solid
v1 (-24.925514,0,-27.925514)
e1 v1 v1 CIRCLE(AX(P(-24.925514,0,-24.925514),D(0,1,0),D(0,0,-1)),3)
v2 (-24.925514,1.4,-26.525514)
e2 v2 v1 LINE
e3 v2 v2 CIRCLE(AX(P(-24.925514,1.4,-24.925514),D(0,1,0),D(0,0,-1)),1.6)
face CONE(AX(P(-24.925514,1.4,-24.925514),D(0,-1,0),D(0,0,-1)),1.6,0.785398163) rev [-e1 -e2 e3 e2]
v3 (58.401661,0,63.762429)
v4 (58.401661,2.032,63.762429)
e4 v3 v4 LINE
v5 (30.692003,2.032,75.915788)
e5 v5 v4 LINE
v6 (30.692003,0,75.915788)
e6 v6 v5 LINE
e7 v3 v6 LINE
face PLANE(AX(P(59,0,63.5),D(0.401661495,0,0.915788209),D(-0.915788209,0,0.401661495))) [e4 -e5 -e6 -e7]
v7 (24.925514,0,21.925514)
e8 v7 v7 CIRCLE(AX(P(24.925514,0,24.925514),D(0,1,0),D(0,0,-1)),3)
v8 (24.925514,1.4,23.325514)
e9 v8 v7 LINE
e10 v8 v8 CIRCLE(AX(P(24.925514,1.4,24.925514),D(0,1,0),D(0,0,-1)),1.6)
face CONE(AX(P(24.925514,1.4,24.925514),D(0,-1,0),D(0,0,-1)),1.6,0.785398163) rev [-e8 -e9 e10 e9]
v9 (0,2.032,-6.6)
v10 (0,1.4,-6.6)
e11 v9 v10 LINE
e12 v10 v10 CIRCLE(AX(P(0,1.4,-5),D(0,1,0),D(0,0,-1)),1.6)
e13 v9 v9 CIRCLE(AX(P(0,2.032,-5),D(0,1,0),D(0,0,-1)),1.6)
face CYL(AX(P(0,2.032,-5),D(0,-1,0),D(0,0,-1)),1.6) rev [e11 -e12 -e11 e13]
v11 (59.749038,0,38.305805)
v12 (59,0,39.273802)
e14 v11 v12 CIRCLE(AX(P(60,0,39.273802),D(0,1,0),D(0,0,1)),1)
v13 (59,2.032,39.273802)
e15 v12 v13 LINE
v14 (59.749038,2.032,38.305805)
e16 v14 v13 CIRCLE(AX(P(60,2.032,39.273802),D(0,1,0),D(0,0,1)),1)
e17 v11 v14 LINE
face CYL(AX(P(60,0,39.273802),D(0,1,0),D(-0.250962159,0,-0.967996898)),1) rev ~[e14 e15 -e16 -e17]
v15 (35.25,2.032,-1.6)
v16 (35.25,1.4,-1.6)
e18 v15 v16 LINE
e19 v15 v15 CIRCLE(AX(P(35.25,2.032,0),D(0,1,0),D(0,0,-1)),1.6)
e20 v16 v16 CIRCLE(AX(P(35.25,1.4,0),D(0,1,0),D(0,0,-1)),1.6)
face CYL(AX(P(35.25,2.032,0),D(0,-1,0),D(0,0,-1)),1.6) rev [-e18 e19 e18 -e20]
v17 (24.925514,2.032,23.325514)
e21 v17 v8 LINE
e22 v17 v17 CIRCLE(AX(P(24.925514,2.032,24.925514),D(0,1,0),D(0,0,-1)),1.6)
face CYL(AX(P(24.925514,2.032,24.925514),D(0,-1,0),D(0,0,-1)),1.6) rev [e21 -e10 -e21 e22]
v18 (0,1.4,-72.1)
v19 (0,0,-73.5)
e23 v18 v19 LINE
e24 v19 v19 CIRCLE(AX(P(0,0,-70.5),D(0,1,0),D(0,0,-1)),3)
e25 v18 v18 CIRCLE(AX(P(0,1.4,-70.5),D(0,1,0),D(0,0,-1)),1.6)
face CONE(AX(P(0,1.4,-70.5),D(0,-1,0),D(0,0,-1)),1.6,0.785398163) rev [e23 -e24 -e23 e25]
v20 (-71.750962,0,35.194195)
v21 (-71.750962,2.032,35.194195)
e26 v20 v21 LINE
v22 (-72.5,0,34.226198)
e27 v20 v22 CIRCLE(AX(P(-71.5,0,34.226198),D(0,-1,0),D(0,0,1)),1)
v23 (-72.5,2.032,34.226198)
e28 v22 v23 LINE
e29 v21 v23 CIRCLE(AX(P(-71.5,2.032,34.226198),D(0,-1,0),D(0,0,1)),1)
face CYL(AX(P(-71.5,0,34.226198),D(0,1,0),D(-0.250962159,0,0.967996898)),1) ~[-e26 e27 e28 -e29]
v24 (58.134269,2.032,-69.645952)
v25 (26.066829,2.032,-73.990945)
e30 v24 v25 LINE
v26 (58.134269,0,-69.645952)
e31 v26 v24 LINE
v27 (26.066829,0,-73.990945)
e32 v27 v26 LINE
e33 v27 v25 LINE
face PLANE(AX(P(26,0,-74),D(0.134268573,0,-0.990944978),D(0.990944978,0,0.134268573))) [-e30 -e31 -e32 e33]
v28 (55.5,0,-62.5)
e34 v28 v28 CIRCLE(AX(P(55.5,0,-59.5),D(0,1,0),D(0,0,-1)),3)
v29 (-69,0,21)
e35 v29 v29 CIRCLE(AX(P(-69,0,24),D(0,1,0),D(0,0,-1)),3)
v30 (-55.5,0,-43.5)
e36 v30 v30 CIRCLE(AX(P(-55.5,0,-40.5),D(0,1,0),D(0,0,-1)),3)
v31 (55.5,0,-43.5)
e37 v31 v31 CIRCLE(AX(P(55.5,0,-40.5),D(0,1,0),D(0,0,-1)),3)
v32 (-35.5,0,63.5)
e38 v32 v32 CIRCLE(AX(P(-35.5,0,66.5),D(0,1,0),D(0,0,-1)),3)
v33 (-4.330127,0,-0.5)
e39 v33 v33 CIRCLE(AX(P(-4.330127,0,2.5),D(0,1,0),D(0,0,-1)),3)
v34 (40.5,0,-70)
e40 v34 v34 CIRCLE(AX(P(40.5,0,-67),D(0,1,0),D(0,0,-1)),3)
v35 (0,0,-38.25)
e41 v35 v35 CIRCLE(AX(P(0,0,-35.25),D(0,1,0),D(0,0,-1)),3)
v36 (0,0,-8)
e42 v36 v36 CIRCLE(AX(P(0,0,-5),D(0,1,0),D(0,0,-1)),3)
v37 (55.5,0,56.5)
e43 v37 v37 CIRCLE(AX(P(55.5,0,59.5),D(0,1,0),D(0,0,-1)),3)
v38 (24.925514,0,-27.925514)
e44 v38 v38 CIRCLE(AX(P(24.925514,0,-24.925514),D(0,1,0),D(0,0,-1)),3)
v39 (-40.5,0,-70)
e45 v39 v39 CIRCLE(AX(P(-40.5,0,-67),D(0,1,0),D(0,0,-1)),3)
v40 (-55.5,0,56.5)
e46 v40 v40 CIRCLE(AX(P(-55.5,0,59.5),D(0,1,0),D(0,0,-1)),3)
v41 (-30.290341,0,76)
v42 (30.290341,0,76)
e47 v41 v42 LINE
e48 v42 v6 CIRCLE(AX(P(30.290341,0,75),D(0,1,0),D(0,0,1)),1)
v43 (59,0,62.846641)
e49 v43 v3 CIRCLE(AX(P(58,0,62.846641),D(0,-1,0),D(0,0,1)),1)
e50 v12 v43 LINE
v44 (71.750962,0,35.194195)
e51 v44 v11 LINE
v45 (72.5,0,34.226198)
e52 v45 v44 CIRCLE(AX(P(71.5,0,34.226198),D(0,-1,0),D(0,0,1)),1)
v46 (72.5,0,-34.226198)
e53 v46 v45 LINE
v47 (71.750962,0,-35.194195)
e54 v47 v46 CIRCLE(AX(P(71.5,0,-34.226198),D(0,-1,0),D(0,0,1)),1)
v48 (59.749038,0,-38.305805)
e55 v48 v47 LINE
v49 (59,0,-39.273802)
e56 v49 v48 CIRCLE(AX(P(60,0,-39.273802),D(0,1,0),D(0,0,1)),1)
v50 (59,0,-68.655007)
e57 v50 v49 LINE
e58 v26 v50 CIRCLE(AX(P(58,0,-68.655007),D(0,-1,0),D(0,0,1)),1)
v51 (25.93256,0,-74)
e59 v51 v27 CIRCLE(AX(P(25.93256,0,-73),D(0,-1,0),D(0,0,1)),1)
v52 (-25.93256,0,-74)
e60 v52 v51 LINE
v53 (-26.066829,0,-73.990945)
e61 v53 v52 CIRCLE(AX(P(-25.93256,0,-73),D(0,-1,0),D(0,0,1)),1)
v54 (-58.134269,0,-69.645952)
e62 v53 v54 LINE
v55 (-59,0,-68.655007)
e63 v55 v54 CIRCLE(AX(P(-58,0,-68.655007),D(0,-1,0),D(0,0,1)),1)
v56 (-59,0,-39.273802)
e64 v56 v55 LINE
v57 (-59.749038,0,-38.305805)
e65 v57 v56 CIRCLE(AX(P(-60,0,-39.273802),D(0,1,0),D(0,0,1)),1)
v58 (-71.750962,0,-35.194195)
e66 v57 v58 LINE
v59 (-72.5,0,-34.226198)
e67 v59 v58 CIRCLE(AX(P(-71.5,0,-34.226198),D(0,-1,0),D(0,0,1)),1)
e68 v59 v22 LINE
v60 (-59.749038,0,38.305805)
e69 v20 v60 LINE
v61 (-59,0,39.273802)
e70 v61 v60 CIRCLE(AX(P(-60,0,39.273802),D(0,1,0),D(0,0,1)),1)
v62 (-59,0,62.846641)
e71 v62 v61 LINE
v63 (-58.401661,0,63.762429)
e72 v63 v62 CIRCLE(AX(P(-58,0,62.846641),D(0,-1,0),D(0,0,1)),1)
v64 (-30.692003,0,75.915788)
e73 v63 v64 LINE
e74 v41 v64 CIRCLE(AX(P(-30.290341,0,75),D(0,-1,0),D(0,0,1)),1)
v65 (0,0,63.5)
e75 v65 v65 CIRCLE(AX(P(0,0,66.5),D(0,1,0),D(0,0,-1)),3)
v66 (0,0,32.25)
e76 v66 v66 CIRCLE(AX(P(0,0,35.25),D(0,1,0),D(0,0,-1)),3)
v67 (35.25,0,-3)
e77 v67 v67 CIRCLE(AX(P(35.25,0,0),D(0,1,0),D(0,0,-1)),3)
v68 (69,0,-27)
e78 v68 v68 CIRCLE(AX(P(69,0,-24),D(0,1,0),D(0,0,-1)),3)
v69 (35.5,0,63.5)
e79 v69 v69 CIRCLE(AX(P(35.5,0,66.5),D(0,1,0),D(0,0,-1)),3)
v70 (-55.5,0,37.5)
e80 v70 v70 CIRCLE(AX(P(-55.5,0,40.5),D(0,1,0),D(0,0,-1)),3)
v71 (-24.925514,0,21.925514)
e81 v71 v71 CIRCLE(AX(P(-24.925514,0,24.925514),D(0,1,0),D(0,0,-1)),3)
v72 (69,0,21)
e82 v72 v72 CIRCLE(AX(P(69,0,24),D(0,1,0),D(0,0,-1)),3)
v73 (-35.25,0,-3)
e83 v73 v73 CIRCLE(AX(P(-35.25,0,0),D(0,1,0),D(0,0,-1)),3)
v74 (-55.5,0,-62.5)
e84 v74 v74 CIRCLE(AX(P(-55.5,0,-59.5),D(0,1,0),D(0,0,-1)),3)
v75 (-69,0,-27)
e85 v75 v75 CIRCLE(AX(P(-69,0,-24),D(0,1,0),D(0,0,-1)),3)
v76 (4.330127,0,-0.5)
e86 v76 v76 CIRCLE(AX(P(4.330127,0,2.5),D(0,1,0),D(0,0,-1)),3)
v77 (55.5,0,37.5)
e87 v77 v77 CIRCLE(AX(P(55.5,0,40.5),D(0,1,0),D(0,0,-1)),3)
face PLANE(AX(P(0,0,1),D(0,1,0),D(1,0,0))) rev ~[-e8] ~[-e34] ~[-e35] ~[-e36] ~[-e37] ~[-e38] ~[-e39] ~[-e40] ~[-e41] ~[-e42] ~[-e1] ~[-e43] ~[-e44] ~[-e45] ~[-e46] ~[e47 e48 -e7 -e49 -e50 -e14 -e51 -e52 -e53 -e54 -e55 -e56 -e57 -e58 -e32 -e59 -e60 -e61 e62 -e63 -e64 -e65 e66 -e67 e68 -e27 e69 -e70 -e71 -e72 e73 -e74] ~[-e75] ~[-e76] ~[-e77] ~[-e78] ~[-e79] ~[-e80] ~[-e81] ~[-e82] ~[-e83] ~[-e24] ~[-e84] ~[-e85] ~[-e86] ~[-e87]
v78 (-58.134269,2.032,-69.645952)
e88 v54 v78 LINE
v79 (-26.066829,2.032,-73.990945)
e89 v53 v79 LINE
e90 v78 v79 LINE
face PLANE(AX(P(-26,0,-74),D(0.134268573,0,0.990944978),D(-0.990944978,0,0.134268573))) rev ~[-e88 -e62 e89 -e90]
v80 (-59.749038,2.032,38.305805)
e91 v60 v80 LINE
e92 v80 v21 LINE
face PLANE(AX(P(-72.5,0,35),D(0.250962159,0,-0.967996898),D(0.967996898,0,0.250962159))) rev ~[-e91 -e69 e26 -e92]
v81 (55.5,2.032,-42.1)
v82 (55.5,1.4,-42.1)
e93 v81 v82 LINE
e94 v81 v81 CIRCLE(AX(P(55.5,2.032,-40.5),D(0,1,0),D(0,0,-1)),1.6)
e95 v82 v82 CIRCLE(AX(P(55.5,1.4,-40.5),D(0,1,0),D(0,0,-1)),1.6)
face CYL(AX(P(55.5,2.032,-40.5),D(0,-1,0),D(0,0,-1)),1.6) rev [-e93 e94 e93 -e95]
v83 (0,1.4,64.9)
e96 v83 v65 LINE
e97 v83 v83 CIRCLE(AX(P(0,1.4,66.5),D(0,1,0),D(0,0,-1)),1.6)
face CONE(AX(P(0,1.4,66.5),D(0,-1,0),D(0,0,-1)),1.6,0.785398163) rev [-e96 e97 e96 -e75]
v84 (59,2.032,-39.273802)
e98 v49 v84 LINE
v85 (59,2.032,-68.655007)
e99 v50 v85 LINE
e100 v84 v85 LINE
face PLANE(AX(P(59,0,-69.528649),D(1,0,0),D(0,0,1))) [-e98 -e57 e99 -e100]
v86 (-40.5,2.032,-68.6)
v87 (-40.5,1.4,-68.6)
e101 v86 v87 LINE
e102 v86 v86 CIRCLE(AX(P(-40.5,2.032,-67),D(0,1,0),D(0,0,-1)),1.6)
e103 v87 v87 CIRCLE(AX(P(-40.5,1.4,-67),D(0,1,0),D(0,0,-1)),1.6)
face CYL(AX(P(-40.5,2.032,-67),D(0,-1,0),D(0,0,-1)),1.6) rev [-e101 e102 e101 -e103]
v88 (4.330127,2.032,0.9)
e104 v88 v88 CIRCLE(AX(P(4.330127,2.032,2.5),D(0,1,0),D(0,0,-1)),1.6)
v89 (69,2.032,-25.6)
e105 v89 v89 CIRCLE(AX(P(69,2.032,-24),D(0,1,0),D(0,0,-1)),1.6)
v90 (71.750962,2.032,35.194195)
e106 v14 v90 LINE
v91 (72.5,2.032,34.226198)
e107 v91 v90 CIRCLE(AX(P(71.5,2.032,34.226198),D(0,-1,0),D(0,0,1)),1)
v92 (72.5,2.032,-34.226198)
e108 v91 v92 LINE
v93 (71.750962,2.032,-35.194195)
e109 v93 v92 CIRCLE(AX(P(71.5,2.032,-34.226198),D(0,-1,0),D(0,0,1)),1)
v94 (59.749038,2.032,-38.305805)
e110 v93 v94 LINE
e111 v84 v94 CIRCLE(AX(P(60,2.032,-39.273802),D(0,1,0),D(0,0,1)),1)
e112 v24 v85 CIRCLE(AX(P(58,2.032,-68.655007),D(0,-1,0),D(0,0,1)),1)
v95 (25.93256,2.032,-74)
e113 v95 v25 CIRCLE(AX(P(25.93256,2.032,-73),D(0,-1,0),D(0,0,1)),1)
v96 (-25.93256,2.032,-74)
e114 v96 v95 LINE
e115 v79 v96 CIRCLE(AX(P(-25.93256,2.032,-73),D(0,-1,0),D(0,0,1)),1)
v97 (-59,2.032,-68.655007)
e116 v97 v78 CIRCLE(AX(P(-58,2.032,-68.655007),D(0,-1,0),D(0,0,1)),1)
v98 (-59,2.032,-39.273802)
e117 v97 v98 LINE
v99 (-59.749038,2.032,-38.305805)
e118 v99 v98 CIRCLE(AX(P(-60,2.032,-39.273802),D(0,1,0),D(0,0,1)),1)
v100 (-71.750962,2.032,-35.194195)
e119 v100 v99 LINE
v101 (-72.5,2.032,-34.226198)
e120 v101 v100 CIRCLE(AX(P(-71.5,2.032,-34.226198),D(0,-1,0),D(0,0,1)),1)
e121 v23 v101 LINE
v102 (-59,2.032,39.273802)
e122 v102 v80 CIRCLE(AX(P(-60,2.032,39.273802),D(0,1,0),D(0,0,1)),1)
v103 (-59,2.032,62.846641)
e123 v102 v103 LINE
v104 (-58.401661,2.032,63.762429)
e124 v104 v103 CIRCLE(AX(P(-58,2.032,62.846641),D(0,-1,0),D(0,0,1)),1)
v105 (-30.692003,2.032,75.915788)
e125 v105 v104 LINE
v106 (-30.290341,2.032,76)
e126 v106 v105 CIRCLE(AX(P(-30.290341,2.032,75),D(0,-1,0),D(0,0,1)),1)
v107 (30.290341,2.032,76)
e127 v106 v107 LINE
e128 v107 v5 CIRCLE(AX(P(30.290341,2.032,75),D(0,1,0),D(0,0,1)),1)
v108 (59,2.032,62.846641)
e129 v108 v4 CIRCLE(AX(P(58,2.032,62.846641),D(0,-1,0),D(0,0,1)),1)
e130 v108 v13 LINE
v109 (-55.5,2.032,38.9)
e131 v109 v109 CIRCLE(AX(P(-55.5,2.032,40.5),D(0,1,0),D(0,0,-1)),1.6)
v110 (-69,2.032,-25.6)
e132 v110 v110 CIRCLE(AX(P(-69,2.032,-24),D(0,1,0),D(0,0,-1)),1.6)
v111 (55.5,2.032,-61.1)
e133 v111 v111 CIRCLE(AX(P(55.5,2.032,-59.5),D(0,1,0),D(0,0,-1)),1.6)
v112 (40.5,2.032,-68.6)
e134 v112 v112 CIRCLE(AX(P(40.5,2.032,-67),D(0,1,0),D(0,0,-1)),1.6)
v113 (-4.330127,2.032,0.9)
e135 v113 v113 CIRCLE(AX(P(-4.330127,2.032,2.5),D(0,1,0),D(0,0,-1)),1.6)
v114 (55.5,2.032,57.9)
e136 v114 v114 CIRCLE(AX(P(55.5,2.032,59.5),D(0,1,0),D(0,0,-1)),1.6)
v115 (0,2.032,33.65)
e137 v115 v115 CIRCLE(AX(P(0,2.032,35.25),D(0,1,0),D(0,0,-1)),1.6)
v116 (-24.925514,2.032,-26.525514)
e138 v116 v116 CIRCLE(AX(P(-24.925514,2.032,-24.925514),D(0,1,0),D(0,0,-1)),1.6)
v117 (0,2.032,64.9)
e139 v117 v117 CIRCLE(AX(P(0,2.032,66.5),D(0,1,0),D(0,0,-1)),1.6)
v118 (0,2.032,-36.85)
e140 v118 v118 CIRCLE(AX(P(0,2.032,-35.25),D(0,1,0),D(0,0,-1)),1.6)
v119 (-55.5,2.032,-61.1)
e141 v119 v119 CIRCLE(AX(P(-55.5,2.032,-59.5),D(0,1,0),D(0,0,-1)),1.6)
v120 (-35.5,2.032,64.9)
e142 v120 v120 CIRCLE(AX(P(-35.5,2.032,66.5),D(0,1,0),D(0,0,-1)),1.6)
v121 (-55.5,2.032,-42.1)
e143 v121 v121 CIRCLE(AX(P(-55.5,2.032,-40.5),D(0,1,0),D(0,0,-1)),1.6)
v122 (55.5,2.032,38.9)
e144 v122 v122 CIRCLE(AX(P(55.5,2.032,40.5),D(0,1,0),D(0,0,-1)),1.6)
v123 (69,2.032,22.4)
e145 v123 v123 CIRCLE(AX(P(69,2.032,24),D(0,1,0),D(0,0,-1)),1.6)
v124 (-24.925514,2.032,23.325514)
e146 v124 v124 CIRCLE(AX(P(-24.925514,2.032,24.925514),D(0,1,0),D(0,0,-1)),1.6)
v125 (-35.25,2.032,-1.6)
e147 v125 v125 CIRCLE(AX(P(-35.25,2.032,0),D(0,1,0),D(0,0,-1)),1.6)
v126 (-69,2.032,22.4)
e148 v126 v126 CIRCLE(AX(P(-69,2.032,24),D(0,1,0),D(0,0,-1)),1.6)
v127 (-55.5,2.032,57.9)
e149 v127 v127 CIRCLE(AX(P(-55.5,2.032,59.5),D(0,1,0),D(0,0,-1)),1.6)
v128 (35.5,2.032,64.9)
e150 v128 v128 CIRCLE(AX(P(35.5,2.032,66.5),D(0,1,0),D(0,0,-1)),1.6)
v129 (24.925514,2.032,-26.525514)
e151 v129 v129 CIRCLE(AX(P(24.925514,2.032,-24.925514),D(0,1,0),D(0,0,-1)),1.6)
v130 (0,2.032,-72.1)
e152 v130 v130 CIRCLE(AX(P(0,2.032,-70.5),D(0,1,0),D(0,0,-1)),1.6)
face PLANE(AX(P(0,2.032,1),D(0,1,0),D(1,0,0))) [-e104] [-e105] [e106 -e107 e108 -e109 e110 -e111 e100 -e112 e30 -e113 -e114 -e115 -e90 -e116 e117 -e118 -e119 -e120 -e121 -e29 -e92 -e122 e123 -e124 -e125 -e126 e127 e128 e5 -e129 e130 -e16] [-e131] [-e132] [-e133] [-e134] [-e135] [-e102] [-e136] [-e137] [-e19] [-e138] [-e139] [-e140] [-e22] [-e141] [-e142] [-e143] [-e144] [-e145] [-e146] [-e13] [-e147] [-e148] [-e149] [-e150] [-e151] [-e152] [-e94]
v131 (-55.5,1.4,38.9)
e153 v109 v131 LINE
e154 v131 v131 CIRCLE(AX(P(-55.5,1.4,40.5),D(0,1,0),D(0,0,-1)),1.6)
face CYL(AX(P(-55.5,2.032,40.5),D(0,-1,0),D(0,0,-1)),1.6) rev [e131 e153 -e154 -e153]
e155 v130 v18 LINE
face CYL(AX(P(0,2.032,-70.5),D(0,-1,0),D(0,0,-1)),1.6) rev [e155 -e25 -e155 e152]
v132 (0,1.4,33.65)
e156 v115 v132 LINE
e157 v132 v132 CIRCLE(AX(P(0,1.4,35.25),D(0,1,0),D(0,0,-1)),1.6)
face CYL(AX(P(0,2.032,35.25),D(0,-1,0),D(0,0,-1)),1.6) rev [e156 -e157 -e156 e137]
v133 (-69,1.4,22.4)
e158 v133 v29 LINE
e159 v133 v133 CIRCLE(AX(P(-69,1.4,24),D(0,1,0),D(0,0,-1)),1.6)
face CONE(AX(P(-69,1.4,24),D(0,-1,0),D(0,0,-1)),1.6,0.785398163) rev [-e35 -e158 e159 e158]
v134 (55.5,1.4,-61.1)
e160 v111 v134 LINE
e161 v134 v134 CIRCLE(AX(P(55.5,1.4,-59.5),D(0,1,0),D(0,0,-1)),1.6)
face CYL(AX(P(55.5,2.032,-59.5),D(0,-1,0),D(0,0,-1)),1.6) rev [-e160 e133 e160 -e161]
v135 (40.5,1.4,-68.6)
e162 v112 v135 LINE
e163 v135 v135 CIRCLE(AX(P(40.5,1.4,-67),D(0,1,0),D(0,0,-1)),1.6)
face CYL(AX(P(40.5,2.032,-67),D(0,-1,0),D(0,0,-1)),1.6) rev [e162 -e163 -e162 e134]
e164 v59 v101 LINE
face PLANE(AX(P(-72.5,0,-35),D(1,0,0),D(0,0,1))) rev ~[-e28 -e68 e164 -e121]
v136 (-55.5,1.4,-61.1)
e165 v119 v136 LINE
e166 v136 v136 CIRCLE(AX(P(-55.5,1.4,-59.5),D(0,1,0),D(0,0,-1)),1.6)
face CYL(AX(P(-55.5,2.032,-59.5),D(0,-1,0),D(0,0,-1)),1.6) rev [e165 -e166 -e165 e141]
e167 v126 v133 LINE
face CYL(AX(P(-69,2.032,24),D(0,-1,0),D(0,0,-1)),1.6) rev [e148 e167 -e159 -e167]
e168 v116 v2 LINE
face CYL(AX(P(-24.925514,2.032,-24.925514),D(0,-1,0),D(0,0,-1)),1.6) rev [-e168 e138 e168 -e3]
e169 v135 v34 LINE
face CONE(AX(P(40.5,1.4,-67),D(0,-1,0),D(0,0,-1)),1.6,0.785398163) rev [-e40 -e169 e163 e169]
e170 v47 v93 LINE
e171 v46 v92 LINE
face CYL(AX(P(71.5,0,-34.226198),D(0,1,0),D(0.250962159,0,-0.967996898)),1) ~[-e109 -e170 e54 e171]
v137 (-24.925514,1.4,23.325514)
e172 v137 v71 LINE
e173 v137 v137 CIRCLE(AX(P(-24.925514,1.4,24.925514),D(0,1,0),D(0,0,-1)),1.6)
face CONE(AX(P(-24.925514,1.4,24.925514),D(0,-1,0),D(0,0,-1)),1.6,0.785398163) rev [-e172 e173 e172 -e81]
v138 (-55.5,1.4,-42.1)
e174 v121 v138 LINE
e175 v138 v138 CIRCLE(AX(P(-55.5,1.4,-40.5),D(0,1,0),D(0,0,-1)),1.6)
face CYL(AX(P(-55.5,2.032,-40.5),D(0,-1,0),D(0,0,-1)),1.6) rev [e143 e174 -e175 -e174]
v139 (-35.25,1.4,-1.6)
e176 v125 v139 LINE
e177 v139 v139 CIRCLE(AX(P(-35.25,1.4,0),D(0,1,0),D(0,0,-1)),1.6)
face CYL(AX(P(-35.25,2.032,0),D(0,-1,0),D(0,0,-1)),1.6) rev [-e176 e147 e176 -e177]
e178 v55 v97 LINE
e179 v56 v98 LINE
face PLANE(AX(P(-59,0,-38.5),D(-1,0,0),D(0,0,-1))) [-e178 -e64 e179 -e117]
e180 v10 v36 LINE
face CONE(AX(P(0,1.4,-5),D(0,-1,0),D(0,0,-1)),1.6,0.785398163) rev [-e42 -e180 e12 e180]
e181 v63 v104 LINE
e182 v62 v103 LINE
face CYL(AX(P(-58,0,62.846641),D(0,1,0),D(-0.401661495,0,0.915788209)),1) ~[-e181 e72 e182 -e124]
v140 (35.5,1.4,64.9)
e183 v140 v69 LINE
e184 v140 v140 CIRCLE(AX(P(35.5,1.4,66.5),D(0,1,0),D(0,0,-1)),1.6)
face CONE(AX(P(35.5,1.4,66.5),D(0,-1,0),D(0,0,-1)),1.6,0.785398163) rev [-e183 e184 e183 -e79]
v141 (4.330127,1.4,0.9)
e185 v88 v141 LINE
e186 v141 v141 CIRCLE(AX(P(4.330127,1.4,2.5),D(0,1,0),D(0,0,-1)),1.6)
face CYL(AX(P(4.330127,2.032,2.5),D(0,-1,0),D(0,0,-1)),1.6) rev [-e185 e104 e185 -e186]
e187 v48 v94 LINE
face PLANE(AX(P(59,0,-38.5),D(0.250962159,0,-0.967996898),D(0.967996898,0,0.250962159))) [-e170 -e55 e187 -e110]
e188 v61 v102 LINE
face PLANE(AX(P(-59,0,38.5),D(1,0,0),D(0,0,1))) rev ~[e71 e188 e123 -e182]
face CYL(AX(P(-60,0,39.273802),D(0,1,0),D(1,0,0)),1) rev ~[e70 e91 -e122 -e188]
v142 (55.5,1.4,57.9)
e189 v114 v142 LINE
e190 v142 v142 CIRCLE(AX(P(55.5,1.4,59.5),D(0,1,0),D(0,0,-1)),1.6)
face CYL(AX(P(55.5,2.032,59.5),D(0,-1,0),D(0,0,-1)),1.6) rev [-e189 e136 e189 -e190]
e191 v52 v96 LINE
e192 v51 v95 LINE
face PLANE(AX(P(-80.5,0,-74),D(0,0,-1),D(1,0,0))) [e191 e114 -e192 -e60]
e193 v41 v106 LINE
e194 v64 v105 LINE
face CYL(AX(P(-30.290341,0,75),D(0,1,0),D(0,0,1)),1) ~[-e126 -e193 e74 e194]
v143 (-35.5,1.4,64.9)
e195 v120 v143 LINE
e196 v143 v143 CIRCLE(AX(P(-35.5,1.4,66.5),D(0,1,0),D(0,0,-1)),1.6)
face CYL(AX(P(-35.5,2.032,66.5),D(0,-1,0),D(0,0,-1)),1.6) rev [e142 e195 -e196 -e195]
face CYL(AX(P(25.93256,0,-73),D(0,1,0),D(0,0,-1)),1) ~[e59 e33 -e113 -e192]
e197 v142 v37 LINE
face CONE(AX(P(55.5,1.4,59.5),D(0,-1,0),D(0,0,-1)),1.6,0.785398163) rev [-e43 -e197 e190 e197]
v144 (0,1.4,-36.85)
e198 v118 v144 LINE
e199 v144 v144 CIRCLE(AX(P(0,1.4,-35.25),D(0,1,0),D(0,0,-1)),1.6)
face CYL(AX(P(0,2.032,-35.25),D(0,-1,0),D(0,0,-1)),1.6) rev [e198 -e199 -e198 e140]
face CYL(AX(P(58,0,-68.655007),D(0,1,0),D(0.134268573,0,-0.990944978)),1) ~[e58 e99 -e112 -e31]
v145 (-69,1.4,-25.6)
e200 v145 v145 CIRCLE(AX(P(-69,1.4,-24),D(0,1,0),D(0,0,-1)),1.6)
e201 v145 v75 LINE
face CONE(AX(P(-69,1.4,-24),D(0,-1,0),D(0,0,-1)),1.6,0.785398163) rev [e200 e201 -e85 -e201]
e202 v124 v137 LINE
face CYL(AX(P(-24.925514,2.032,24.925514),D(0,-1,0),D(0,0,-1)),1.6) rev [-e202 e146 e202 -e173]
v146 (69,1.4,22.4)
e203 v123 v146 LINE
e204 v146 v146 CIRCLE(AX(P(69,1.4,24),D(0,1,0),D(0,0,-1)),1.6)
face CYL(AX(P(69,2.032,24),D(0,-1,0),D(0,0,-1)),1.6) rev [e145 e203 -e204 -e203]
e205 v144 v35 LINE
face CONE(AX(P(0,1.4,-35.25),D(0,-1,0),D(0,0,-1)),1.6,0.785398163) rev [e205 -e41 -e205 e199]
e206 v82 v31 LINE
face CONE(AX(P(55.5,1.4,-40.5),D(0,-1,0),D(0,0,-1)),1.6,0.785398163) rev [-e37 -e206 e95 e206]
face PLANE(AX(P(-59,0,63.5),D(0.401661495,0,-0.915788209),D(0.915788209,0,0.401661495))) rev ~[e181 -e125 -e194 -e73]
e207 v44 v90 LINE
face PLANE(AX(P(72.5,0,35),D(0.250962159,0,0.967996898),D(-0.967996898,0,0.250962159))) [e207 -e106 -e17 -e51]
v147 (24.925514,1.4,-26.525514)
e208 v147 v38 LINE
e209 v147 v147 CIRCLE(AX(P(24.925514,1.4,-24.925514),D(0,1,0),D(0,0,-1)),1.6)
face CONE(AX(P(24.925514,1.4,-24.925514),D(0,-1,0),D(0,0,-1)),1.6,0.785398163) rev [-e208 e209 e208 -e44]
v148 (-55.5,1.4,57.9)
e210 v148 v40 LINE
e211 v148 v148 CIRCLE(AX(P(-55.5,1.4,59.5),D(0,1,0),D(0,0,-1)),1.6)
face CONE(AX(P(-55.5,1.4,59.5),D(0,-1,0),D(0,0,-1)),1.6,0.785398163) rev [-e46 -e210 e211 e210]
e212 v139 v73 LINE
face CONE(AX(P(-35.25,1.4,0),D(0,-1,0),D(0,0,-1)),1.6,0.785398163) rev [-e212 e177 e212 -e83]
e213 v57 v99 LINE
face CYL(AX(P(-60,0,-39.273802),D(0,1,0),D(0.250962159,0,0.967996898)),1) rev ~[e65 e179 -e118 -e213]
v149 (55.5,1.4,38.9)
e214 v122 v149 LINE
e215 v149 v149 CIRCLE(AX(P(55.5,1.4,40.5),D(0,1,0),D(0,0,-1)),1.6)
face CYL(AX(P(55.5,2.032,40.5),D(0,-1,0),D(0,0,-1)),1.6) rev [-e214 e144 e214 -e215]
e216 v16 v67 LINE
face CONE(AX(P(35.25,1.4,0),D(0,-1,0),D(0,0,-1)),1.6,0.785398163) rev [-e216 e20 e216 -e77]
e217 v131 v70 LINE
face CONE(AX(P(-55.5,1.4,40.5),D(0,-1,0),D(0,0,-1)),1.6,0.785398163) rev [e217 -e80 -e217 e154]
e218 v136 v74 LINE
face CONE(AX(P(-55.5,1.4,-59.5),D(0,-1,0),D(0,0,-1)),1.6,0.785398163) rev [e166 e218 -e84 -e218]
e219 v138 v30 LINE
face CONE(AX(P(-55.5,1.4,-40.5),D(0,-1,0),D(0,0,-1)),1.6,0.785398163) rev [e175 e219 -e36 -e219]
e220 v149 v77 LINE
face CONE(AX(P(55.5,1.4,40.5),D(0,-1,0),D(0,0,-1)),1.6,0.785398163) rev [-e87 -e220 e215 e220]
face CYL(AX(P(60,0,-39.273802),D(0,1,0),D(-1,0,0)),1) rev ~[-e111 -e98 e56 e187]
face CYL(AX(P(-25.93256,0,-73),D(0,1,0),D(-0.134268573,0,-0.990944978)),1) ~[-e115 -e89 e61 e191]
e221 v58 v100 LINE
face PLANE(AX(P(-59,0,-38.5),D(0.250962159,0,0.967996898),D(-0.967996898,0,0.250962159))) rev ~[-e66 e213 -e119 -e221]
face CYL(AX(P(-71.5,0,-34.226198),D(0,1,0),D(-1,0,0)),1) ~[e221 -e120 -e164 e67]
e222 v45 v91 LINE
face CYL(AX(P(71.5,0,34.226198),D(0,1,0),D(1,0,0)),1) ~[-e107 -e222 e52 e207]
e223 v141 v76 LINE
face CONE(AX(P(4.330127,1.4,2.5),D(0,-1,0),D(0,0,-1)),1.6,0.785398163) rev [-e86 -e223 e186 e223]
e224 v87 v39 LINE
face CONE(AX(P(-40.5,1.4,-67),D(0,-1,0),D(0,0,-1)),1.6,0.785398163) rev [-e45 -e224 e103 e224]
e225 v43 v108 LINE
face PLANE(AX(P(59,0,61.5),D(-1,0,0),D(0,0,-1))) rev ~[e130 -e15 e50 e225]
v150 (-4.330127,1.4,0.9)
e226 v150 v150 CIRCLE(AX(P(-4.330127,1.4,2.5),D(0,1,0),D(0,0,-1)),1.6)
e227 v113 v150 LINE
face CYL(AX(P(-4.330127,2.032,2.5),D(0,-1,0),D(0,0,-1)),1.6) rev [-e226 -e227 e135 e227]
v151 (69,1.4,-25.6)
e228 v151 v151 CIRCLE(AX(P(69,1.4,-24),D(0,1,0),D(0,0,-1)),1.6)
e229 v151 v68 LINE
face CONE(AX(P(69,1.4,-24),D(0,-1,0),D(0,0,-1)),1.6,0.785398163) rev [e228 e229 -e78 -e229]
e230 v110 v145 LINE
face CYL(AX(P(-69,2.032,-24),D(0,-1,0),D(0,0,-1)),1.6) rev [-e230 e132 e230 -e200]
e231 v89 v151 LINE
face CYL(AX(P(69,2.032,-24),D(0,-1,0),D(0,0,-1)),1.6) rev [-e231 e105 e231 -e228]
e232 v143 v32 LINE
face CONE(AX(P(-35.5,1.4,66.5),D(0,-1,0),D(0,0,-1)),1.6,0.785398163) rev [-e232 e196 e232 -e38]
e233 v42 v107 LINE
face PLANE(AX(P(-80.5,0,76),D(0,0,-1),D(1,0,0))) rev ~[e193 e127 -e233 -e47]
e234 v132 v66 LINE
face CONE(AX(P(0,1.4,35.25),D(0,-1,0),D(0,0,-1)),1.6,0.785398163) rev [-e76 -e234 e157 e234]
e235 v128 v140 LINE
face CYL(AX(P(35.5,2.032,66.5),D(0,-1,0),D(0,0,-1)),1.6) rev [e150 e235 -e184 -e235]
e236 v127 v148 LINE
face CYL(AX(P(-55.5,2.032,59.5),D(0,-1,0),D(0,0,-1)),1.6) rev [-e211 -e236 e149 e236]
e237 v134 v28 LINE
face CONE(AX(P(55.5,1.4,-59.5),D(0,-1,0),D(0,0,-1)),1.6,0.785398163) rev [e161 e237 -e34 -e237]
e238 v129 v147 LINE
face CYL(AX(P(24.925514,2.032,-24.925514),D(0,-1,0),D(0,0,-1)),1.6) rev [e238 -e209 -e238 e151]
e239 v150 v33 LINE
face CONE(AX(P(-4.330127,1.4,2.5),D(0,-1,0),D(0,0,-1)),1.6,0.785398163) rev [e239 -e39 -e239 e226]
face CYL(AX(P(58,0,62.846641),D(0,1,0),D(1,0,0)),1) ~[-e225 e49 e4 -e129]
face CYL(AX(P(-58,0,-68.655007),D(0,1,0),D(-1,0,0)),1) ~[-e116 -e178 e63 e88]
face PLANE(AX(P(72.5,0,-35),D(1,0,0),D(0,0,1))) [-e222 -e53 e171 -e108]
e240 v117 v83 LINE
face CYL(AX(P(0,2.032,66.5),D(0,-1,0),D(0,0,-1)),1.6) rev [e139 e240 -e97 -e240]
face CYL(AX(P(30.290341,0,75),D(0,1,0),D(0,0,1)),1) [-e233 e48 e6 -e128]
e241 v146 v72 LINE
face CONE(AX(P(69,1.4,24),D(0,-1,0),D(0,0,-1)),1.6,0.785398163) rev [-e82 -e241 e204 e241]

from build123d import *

# Parameters (mm, degrees)
SKETCH1_W                     = 161
SKETCH1_H                     = 150
SKETCH1_W_2                   = 15.5
SKETCH1_H_2                   = 23
BOSS_EXTRUDE1_DEPTH           = 2.032
CSK_FOR_M3_SFHCS1_AT_2_COUNT  = 2
CSK_FOR_M3_SFHCS1_AT_2_PITCH  = 26.979181982
CSK_FOR_M3_SFHCS1_AT_3_COUNT  = 2
CSK_FOR_M3_SFHCS1_AT_3_PITCH  = 49.851028074
CSK_FOR_M3_SFHCS1_AT_4_COUNT  = 2
CSK_FOR_M3_SFHCS1_AT_4_PITCH  = 65.133507042
CSK_FOR_M3_SFHCS1_AT_5_COUNT  = 2
CSK_FOR_M3_SFHCS1_AT_5_PITCH  = 70.5
CSK_FOR_M3_SFHCS1_AT_6_COUNT  = 2
CSK_FOR_M3_SFHCS1_AT_6_PITCH  = 65.133507042
CSK_FOR_M3_SFHCS1_AT_7_COUNT  = 2
CSK_FOR_M3_SFHCS1_AT_7_PITCH  = 49.851028074
CSK_FOR_M3_SFHCS1_AT_8_COUNT  = 2
CSK_FOR_M3_SFHCS1_AT_8_PITCH  = 26.979181982
CSK_FOR_M3_SFHCS1_AT_9_COUNT  = 2
CSK_FOR_M3_SFHCS1_AT_9_PITCH  = 40.25
CSK_FOR_M3_SFHCS1_AT_10_COUNT = 2
CSK_FOR_M3_SFHCS1_AT_10_PITCH = 33.035019298
CSK_FOR_M3_SFHCS1_AT_11_COUNT = 2
CSK_FOR_M3_SFHCS1_AT_11_PITCH = 33.035019298
CUT_EXTRUDE1_DEPTH            = 3.032
FILLET1_R                     = 1
CSK_FOR_M3_SFHCS2_AT_2_COUNT  = 2
CSK_FOR_M3_SFHCS2_AT_2_PITCH  = 35.5
CSK_FOR_M3_SFHCS2_AT_3_COUNT  = 2
CSK_FOR_M3_SFHCS2_AT_3_PITCH  = 81.038571063
CSK_FOR_M3_SFHCS2_AT_4_COUNT  = 2
CSK_FOR_M3_SFHCS2_AT_4_PITCH  = 61.288253361
CSK_FOR_M3_SFHCS2_AT_5_COUNT  = 2
CSK_FOR_M3_SFHCS2_AT_5_PITCH  = 55.939699677
CSK_FOR_M3_SFHCS2_AT_6_COUNT  = 2
CSK_FOR_M3_SFHCS2_AT_6_PITCH  = 55.939699677
CSK_FOR_M3_SFHCS2_AT_7_COUNT  = 2
CSK_FOR_M3_SFHCS2_AT_7_PITCH  = 61.288253361
CSK_FOR_M3_SFHCS2_AT_8_COUNT  = 2
CSK_FOR_M3_SFHCS2_AT_8_PITCH  = 81.038571063
CSK_FOR_M3_SFHCS2_AT_9_COUNT  = 2
CSK_FOR_M3_SFHCS2_AT_9_PITCH  = 35.5
CSK_FOR_M3_SFHCS2_AT_10_COUNT = 2
CSK_FOR_M3_SFHCS2_AT_10_PITCH = 113.80355882
CSK_FOR_M3_SFHCS2_AT_11_COUNT = 2
CSK_FOR_M3_SFHCS2_AT_11_PITCH = 120.537338613
CSK_FOR_M3_SFHCS2_AT_12_COUNT = 2
CSK_FOR_M3_SFHCS2_AT_12_PITCH = 137.68169813
CSK_FOR_M3_SFHCS2_AT_13_COUNT = 2
CSK_FOR_M3_SFHCS2_AT_13_PITCH = 137.68169813
CSK_FOR_M3_SFHCS2_AT_14_COUNT = 2
CSK_FOR_M3_SFHCS2_AT_14_PITCH = 120.537338613
CSK_FOR_M3_SFHCS2_AT_15_COUNT = 2
CSK_FOR_M3_SFHCS2_AT_15_PITCH = 113.80355882
CSK_FOR_M3_SFHCS2_AT_16_COUNT = 2
CSK_FOR_M3_SFHCS2_AT_16_PITCH = 139.508064283
CSK_FOR_M3_SFHCS2_AT_17_COUNT = 2
CSK_FOR_M3_SFHCS2_AT_17_PITCH = 137
CSK_FOR_M3_SFHCS2_AT_18_COUNT = 2
CSK_FOR_M3_SFHCS2_AT_18_PITCH = 139.508064283


with BuildPart() as part:
    # Sketch1 → Boss-Extrude1 (new body)
    with BuildSketch(Plane(origin=(0, 0, 0), x_dir=(1, 0, 0), z_dir=(0, 1, 0))):
        with Locations((0, -1)):
            Rectangle(SKETCH1_W, SKETCH1_H)
        with Locations((-66.75, 50)):
            Rectangle(SKETCH1_W_2, SKETCH1_H_2, mode=Mode.SUBTRACT)
        with Locations((66.75, 50)):
            Rectangle(SKETCH1_W_2, SKETCH1_H_2, mode=Mode.SUBTRACT)
        with Locations((66.75, -50)):
            Rectangle(SKETCH1_W_2, SKETCH1_H_2, mode=Mode.SUBTRACT)
        with Locations((-66.75, -50)):
            Rectangle(SKETCH1_W_2, SKETCH1_H_2, mode=Mode.SUBTRACT)
    extrude(amount=BOSS_EXTRUDE1_DEPTH)

    # Sketch2 → CSK for M3 SFHCS1 (revolve, cut)
    with BuildSketch(Plane(origin=(0, 0, 35.25), x_dir=(0, 0, -1), z_dir=(1, 0, 0))):
        Polygon((0, 0), (0, 2.032), (1.6, 2.032), (1.6, 1.4), (3, 0), align=None)
    csk_for_m3_sfhcs1 = revolve(axis=Axis((0, -6.35, 35.25), (0, 1, 0)), mode=Mode.SUBTRACT)

    # CSK for M3 SFHCS1 at 2: CSK for M3 SFHCS1 ×2
    with Locations(*[Vector(0.923879533, 0, -0.382683432) * (i * CSK_FOR_M3_SFHCS1_AT_2_PITCH) for i in range(1, CSK_FOR_M3_SFHCS1_AT_2_COUNT)]):
        add(csk_for_m3_sfhcs1, mode=Mode.SUBTRACT)

    # CSK for M3 SFHCS1 at 3: CSK for M3 SFHCS1 ×2
    with Locations(*[Vector(0.707106781, 0, -0.707106781) * (i * CSK_FOR_M3_SFHCS1_AT_3_PITCH) for i in range(1, CSK_FOR_M3_SFHCS1_AT_3_COUNT)]):
        add(csk_for_m3_sfhcs1, mode=Mode.SUBTRACT)

    # CSK for M3 SFHCS1 at 4: CSK for M3 SFHCS1 ×2
    with Locations(*[Vector(0.382683432, 0, -0.923879533) * (i * CSK_FOR_M3_SFHCS1_AT_4_PITCH) for i in range(1, CSK_FOR_M3_SFHCS1_AT_4_COUNT)]):
        add(csk_for_m3_sfhcs1, mode=Mode.SUBTRACT)

    # CSK for M3 SFHCS1 at 5: CSK for M3 SFHCS1 ×2
    with Locations(*[(0, 0, -i * CSK_FOR_M3_SFHCS1_AT_5_PITCH) for i in range(1, CSK_FOR_M3_SFHCS1_AT_5_COUNT)]):
        add(csk_for_m3_sfhcs1, mode=Mode.SUBTRACT)

    # CSK for M3 SFHCS1 at 6: CSK for M3 SFHCS1 ×2
    with Locations(*[Vector(-0.382683432, 0, -0.923879533) * (i * CSK_FOR_M3_SFHCS1_AT_6_PITCH) for i in range(1, CSK_FOR_M3_SFHCS1_AT_6_COUNT)]):
        add(csk_for_m3_sfhcs1, mode=Mode.SUBTRACT)

    # CSK for M3 SFHCS1 at 7: CSK for M3 SFHCS1 ×2
    with Locations(*[Vector(-0.707106781, 0, -0.707106781) * (i * CSK_FOR_M3_SFHCS1_AT_7_PITCH) for i in range(1, CSK_FOR_M3_SFHCS1_AT_7_COUNT)]):
        add(csk_for_m3_sfhcs1, mode=Mode.SUBTRACT)

    # CSK for M3 SFHCS1 at 8: CSK for M3 SFHCS1 ×2
    with Locations(*[Vector(-0.923879533, 0, -0.382683432) * (i * CSK_FOR_M3_SFHCS1_AT_8_PITCH) for i in range(1, CSK_FOR_M3_SFHCS1_AT_8_COUNT)]):
        add(csk_for_m3_sfhcs1, mode=Mode.SUBTRACT)

    # CSK for M3 SFHCS1 at 9: CSK for M3 SFHCS1 ×2
    with Locations(*[(0, 0, -i * CSK_FOR_M3_SFHCS1_AT_9_PITCH) for i in range(1, CSK_FOR_M3_SFHCS1_AT_9_COUNT)]):
        add(csk_for_m3_sfhcs1, mode=Mode.SUBTRACT)

    # CSK for M3 SFHCS1 at 10: CSK for M3 SFHCS1 ×2
    with Locations(*[Vector(-0.131076873, 0, -0.991372207) * (i * CSK_FOR_M3_SFHCS1_AT_10_PITCH) for i in range(1, CSK_FOR_M3_SFHCS1_AT_10_COUNT)]):
        add(csk_for_m3_sfhcs1, mode=Mode.SUBTRACT)

    # CSK for M3 SFHCS1 at 11: CSK for M3 SFHCS1 ×2
    with Locations(*[Vector(0.131076873, 0, -0.991372207) * (i * CSK_FOR_M3_SFHCS1_AT_11_PITCH) for i in range(1, CSK_FOR_M3_SFHCS1_AT_11_COUNT)]):
        add(csk_for_m3_sfhcs1, mode=Mode.SUBTRACT)

    # Sketch4 → Cut-Extrude1 (cut, through all)
    with BuildSketch(Plane.XZ):
        Polygon((59, -38.5), (72.5, -35), (72.5, 35), (59, 38.5), (59, 63.5), (30.5, 76), (80.5, 76), (80.5, -74), (26, -74), (59, -69.528648916), align=None)
        Polygon((-80.5, 76), (-80.5, -74), (-26, -74), (-59, -69.528648916), (-59, -38.5), (-72.5, -35), (-72.5, 35), (-59, 38.5), (-59, 63.5), (-30.5, 76), align=None)
    extrude(amount=-CUT_EXTRUDE1_DEPTH, mode=Mode.SUBTRACT)

    # Fillet1
    fillet1_edges = [part.edges().sort_by_distance(p)[0] for p in [
        (-59, 1.016, -38.5),
        (59, 1.016, -69.528648916),
        (72.5, 1.016, -35),
        (72.5, 1.016, 35),
        (59, 1.016, 63.5),
        (30.5, 1.016, 76),
        (26, 1.016, -74),
        (-30.5, 1.016, 76),
        (-59, 1.016, 63.5),
        (-72.5, 1.016, 35),
        (-72.5, 1.016, -35),
        (-59, 1.016, -69.528648916),
        (-26, 1.016, -74),
        (59, 1.016, -38.5),
        (59, 1.016, 38.5),
        (-59, 1.016, 38.5),
    ]]
    fillet(fillet1_edges, radius=FILLET1_R)

    # Sketch5 → CSK for M3 SFHCS2 (revolve, cut)
    with BuildSketch(Plane(origin=(0, 0, 66.5), x_dir=(0, 0, -1), z_dir=(1, 0, 0))):
        Polygon((0, 0), (0, 2.032), (1.6, 2.032), (1.6, 1.4), (3, 0), align=None)
    csk_for_m3_sfhcs2 = revolve(axis=Axis((0, -6.35, 66.5), (0, 1, 0)), mode=Mode.SUBTRACT)

    # CSK for M3 SFHCS2 at 2: CSK for M3 SFHCS2 ×2
    with Locations(*[(-i * CSK_FOR_M3_SFHCS2_AT_2_PITCH, 0, 0) for i in range(1, CSK_FOR_M3_SFHCS2_AT_2_COUNT)]):
        add(csk_for_m3_sfhcs2, mode=Mode.SUBTRACT)

    # CSK for M3 SFHCS2 at 3: CSK for M3 SFHCS2 ×2
    with Locations(*[Vector(-0.851446405, 0, -0.524441626) * (i * CSK_FOR_M3_SFHCS2_AT_3_PITCH) for i in range(1, CSK_FOR_M3_SFHCS2_AT_3_COUNT)]):
        add(csk_for_m3_sfhcs2, mode=Mode.SUBTRACT)

    # CSK for M3 SFHCS2 at 4: CSK for M3 SFHCS2 ×2
    with Locations(*[Vector(-0.905556888, 0, -0.424224849) * (i * CSK_FOR_M3_SFHCS2_AT_4_PITCH) for i in range(1, CSK_FOR_M3_SFHCS2_AT_4_COUNT)]):
        add(csk_for_m3_sfhcs2, mode=Mode.SUBTRACT)

    # CSK for M3 SFHCS2 at 5: CSK for M3 SFHCS2 ×2
    with Locations(*[Vector(-0.992139756, 0, -0.125134744) * (i * CSK_FOR_M3_SFHCS2_AT_5_PITCH) for i in range(1, CSK_FOR_M3_SFHCS2_AT_5_COUNT)]):
        add(csk_for_m3_sfhcs2, mode=Mode.SUBTRACT)

    # CSK for M3 SFHCS2 at 6: CSK for M3 SFHCS2 ×2
    with Locations(*[Vector(0.992139756, 0, -0.125134744) * (i * CSK_FOR_M3_SFHCS2_AT_6_PITCH) for i in range(1, CSK_FOR_M3_SFHCS2_AT_6_COUNT)]):
        add(csk_for_m3_sfhcs2, mode=Mode.SUBTRACT)

    # CSK for M3 SFHCS2 at 7: CSK for M3 SFHCS2 ×2
    with Locations(*[Vector(0.905556888, 0, -0.424224849) * (i * CSK_FOR_M3_SFHCS2_AT_7_PITCH) for i in range(1, CSK_FOR_M3_SFHCS2_AT_7_COUNT)]):
        add(csk_for_m3_sfhcs2, mode=Mode.SUBTRACT)

    # CSK for M3 SFHCS2 at 8: CSK for M3 SFHCS2 ×2
    with Locations(*[Vector(0.851446405, 0, -0.524441626) * (i * CSK_FOR_M3_SFHCS2_AT_8_PITCH) for i in range(1, CSK_FOR_M3_SFHCS2_AT_8_COUNT)]):
        add(csk_for_m3_sfhcs2, mode=Mode.SUBTRACT)

    # CSK for M3 SFHCS2 at 9: CSK for M3 SFHCS2 ×2
    with Locations(*[(i * CSK_FOR_M3_SFHCS2_AT_9_PITCH, 0, 0) for i in range(1, CSK_FOR_M3_SFHCS2_AT_9_COUNT)]):
        add(csk_for_m3_sfhcs2, mode=Mode.SUBTRACT)

    # CSK for M3 SFHCS2 at 10: CSK for M3 SFHCS2 ×2
    with Locations(*[Vector(0.606307928, 0, -0.795229964) * (i * CSK_FOR_M3_SFHCS2_AT_10_PITCH) for i in range(1, CSK_FOR_M3_SFHCS2_AT_10_COUNT)]):
        add(csk_for_m3_sfhcs2, mode=Mode.SUBTRACT)

    # CSK for M3 SFHCS2 at 11: CSK for M3 SFHCS2 ×2
    with Locations(*[Vector(0.46043824, 0, -0.887691741) * (i * CSK_FOR_M3_SFHCS2_AT_11_PITCH) for i in range(1, CSK_FOR_M3_SFHCS2_AT_11_COUNT)]):
        add(csk_for_m3_sfhcs2, mode=Mode.SUBTRACT)

    # CSK for M3 SFHCS2 at 12: CSK for M3 SFHCS2 ×2
    with Locations(*[Vector(0.403103686, 0, -0.915154314) * (i * CSK_FOR_M3_SFHCS2_AT_12_PITCH) for i in range(1, CSK_FOR_M3_SFHCS2_AT_12_COUNT)]):
        add(csk_for_m3_sfhcs2, mode=Mode.SUBTRACT)

    # CSK for M3 SFHCS2 at 13: CSK for M3 SFHCS2 ×2
    with Locations(*[Vector(-0.403103686, 0, -0.915154314) * (i * CSK_FOR_M3_SFHCS2_AT_13_PITCH) for i in range(1, CSK_FOR_M3_SFHCS2_AT_13_COUNT)]):
        add(csk_for_m3_sfhcs2, mode=Mode.SUBTRACT)

    # CSK for M3 SFHCS2 at 14: CSK for M3 SFHCS2 ×2
    with Locations(*[Vector(-0.46043824, 0, -0.887691741) * (i * CSK_FOR_M3_SFHCS2_AT_14_PITCH) for i in range(1, CSK_FOR_M3_SFHCS2_AT_14_COUNT)]):
        add(csk_for_m3_sfhcs2, mode=Mode.SUBTRACT)

    # CSK for M3 SFHCS2 at 15: CSK for M3 SFHCS2 ×2
    with Locations(*[Vector(-0.606307928, 0, -0.795229964) * (i * CSK_FOR_M3_SFHCS2_AT_15_PITCH) for i in range(1, CSK_FOR_M3_SFHCS2_AT_15_COUNT)]):
        add(csk_for_m3_sfhcs2, mode=Mode.SUBTRACT)

    # CSK for M3 SFHCS2 at 16: CSK for M3 SFHCS2 ×2
    with Locations(*[Vector(0.290305799, 0, -0.956933928) * (i * CSK_FOR_M3_SFHCS2_AT_16_PITCH) for i in range(1, CSK_FOR_M3_SFHCS2_AT_16_COUNT)]):
        add(csk_for_m3_sfhcs2, mode=Mode.SUBTRACT)

    # CSK for M3 SFHCS2 at 17: CSK for M3 SFHCS2 ×2
    with Locations(*[(0, 0, -i * CSK_FOR_M3_SFHCS2_AT_17_PITCH) for i in range(1, CSK_FOR_M3_SFHCS2_AT_17_COUNT)]):
        add(csk_for_m3_sfhcs2, mode=Mode.SUBTRACT)

    # CSK for M3 SFHCS2 at 18: CSK for M3 SFHCS2 ×2
    with Locations(*[Vector(-0.290305799, 0, -0.956933928) * (i * CSK_FOR_M3_SFHCS2_AT_18_PITCH) for i in range(1, CSK_FOR_M3_SFHCS2_AT_18_COUNT)]):
        add(csk_for_m3_sfhcs2, mode=Mode.SUBTRACT)


solid = part.part
